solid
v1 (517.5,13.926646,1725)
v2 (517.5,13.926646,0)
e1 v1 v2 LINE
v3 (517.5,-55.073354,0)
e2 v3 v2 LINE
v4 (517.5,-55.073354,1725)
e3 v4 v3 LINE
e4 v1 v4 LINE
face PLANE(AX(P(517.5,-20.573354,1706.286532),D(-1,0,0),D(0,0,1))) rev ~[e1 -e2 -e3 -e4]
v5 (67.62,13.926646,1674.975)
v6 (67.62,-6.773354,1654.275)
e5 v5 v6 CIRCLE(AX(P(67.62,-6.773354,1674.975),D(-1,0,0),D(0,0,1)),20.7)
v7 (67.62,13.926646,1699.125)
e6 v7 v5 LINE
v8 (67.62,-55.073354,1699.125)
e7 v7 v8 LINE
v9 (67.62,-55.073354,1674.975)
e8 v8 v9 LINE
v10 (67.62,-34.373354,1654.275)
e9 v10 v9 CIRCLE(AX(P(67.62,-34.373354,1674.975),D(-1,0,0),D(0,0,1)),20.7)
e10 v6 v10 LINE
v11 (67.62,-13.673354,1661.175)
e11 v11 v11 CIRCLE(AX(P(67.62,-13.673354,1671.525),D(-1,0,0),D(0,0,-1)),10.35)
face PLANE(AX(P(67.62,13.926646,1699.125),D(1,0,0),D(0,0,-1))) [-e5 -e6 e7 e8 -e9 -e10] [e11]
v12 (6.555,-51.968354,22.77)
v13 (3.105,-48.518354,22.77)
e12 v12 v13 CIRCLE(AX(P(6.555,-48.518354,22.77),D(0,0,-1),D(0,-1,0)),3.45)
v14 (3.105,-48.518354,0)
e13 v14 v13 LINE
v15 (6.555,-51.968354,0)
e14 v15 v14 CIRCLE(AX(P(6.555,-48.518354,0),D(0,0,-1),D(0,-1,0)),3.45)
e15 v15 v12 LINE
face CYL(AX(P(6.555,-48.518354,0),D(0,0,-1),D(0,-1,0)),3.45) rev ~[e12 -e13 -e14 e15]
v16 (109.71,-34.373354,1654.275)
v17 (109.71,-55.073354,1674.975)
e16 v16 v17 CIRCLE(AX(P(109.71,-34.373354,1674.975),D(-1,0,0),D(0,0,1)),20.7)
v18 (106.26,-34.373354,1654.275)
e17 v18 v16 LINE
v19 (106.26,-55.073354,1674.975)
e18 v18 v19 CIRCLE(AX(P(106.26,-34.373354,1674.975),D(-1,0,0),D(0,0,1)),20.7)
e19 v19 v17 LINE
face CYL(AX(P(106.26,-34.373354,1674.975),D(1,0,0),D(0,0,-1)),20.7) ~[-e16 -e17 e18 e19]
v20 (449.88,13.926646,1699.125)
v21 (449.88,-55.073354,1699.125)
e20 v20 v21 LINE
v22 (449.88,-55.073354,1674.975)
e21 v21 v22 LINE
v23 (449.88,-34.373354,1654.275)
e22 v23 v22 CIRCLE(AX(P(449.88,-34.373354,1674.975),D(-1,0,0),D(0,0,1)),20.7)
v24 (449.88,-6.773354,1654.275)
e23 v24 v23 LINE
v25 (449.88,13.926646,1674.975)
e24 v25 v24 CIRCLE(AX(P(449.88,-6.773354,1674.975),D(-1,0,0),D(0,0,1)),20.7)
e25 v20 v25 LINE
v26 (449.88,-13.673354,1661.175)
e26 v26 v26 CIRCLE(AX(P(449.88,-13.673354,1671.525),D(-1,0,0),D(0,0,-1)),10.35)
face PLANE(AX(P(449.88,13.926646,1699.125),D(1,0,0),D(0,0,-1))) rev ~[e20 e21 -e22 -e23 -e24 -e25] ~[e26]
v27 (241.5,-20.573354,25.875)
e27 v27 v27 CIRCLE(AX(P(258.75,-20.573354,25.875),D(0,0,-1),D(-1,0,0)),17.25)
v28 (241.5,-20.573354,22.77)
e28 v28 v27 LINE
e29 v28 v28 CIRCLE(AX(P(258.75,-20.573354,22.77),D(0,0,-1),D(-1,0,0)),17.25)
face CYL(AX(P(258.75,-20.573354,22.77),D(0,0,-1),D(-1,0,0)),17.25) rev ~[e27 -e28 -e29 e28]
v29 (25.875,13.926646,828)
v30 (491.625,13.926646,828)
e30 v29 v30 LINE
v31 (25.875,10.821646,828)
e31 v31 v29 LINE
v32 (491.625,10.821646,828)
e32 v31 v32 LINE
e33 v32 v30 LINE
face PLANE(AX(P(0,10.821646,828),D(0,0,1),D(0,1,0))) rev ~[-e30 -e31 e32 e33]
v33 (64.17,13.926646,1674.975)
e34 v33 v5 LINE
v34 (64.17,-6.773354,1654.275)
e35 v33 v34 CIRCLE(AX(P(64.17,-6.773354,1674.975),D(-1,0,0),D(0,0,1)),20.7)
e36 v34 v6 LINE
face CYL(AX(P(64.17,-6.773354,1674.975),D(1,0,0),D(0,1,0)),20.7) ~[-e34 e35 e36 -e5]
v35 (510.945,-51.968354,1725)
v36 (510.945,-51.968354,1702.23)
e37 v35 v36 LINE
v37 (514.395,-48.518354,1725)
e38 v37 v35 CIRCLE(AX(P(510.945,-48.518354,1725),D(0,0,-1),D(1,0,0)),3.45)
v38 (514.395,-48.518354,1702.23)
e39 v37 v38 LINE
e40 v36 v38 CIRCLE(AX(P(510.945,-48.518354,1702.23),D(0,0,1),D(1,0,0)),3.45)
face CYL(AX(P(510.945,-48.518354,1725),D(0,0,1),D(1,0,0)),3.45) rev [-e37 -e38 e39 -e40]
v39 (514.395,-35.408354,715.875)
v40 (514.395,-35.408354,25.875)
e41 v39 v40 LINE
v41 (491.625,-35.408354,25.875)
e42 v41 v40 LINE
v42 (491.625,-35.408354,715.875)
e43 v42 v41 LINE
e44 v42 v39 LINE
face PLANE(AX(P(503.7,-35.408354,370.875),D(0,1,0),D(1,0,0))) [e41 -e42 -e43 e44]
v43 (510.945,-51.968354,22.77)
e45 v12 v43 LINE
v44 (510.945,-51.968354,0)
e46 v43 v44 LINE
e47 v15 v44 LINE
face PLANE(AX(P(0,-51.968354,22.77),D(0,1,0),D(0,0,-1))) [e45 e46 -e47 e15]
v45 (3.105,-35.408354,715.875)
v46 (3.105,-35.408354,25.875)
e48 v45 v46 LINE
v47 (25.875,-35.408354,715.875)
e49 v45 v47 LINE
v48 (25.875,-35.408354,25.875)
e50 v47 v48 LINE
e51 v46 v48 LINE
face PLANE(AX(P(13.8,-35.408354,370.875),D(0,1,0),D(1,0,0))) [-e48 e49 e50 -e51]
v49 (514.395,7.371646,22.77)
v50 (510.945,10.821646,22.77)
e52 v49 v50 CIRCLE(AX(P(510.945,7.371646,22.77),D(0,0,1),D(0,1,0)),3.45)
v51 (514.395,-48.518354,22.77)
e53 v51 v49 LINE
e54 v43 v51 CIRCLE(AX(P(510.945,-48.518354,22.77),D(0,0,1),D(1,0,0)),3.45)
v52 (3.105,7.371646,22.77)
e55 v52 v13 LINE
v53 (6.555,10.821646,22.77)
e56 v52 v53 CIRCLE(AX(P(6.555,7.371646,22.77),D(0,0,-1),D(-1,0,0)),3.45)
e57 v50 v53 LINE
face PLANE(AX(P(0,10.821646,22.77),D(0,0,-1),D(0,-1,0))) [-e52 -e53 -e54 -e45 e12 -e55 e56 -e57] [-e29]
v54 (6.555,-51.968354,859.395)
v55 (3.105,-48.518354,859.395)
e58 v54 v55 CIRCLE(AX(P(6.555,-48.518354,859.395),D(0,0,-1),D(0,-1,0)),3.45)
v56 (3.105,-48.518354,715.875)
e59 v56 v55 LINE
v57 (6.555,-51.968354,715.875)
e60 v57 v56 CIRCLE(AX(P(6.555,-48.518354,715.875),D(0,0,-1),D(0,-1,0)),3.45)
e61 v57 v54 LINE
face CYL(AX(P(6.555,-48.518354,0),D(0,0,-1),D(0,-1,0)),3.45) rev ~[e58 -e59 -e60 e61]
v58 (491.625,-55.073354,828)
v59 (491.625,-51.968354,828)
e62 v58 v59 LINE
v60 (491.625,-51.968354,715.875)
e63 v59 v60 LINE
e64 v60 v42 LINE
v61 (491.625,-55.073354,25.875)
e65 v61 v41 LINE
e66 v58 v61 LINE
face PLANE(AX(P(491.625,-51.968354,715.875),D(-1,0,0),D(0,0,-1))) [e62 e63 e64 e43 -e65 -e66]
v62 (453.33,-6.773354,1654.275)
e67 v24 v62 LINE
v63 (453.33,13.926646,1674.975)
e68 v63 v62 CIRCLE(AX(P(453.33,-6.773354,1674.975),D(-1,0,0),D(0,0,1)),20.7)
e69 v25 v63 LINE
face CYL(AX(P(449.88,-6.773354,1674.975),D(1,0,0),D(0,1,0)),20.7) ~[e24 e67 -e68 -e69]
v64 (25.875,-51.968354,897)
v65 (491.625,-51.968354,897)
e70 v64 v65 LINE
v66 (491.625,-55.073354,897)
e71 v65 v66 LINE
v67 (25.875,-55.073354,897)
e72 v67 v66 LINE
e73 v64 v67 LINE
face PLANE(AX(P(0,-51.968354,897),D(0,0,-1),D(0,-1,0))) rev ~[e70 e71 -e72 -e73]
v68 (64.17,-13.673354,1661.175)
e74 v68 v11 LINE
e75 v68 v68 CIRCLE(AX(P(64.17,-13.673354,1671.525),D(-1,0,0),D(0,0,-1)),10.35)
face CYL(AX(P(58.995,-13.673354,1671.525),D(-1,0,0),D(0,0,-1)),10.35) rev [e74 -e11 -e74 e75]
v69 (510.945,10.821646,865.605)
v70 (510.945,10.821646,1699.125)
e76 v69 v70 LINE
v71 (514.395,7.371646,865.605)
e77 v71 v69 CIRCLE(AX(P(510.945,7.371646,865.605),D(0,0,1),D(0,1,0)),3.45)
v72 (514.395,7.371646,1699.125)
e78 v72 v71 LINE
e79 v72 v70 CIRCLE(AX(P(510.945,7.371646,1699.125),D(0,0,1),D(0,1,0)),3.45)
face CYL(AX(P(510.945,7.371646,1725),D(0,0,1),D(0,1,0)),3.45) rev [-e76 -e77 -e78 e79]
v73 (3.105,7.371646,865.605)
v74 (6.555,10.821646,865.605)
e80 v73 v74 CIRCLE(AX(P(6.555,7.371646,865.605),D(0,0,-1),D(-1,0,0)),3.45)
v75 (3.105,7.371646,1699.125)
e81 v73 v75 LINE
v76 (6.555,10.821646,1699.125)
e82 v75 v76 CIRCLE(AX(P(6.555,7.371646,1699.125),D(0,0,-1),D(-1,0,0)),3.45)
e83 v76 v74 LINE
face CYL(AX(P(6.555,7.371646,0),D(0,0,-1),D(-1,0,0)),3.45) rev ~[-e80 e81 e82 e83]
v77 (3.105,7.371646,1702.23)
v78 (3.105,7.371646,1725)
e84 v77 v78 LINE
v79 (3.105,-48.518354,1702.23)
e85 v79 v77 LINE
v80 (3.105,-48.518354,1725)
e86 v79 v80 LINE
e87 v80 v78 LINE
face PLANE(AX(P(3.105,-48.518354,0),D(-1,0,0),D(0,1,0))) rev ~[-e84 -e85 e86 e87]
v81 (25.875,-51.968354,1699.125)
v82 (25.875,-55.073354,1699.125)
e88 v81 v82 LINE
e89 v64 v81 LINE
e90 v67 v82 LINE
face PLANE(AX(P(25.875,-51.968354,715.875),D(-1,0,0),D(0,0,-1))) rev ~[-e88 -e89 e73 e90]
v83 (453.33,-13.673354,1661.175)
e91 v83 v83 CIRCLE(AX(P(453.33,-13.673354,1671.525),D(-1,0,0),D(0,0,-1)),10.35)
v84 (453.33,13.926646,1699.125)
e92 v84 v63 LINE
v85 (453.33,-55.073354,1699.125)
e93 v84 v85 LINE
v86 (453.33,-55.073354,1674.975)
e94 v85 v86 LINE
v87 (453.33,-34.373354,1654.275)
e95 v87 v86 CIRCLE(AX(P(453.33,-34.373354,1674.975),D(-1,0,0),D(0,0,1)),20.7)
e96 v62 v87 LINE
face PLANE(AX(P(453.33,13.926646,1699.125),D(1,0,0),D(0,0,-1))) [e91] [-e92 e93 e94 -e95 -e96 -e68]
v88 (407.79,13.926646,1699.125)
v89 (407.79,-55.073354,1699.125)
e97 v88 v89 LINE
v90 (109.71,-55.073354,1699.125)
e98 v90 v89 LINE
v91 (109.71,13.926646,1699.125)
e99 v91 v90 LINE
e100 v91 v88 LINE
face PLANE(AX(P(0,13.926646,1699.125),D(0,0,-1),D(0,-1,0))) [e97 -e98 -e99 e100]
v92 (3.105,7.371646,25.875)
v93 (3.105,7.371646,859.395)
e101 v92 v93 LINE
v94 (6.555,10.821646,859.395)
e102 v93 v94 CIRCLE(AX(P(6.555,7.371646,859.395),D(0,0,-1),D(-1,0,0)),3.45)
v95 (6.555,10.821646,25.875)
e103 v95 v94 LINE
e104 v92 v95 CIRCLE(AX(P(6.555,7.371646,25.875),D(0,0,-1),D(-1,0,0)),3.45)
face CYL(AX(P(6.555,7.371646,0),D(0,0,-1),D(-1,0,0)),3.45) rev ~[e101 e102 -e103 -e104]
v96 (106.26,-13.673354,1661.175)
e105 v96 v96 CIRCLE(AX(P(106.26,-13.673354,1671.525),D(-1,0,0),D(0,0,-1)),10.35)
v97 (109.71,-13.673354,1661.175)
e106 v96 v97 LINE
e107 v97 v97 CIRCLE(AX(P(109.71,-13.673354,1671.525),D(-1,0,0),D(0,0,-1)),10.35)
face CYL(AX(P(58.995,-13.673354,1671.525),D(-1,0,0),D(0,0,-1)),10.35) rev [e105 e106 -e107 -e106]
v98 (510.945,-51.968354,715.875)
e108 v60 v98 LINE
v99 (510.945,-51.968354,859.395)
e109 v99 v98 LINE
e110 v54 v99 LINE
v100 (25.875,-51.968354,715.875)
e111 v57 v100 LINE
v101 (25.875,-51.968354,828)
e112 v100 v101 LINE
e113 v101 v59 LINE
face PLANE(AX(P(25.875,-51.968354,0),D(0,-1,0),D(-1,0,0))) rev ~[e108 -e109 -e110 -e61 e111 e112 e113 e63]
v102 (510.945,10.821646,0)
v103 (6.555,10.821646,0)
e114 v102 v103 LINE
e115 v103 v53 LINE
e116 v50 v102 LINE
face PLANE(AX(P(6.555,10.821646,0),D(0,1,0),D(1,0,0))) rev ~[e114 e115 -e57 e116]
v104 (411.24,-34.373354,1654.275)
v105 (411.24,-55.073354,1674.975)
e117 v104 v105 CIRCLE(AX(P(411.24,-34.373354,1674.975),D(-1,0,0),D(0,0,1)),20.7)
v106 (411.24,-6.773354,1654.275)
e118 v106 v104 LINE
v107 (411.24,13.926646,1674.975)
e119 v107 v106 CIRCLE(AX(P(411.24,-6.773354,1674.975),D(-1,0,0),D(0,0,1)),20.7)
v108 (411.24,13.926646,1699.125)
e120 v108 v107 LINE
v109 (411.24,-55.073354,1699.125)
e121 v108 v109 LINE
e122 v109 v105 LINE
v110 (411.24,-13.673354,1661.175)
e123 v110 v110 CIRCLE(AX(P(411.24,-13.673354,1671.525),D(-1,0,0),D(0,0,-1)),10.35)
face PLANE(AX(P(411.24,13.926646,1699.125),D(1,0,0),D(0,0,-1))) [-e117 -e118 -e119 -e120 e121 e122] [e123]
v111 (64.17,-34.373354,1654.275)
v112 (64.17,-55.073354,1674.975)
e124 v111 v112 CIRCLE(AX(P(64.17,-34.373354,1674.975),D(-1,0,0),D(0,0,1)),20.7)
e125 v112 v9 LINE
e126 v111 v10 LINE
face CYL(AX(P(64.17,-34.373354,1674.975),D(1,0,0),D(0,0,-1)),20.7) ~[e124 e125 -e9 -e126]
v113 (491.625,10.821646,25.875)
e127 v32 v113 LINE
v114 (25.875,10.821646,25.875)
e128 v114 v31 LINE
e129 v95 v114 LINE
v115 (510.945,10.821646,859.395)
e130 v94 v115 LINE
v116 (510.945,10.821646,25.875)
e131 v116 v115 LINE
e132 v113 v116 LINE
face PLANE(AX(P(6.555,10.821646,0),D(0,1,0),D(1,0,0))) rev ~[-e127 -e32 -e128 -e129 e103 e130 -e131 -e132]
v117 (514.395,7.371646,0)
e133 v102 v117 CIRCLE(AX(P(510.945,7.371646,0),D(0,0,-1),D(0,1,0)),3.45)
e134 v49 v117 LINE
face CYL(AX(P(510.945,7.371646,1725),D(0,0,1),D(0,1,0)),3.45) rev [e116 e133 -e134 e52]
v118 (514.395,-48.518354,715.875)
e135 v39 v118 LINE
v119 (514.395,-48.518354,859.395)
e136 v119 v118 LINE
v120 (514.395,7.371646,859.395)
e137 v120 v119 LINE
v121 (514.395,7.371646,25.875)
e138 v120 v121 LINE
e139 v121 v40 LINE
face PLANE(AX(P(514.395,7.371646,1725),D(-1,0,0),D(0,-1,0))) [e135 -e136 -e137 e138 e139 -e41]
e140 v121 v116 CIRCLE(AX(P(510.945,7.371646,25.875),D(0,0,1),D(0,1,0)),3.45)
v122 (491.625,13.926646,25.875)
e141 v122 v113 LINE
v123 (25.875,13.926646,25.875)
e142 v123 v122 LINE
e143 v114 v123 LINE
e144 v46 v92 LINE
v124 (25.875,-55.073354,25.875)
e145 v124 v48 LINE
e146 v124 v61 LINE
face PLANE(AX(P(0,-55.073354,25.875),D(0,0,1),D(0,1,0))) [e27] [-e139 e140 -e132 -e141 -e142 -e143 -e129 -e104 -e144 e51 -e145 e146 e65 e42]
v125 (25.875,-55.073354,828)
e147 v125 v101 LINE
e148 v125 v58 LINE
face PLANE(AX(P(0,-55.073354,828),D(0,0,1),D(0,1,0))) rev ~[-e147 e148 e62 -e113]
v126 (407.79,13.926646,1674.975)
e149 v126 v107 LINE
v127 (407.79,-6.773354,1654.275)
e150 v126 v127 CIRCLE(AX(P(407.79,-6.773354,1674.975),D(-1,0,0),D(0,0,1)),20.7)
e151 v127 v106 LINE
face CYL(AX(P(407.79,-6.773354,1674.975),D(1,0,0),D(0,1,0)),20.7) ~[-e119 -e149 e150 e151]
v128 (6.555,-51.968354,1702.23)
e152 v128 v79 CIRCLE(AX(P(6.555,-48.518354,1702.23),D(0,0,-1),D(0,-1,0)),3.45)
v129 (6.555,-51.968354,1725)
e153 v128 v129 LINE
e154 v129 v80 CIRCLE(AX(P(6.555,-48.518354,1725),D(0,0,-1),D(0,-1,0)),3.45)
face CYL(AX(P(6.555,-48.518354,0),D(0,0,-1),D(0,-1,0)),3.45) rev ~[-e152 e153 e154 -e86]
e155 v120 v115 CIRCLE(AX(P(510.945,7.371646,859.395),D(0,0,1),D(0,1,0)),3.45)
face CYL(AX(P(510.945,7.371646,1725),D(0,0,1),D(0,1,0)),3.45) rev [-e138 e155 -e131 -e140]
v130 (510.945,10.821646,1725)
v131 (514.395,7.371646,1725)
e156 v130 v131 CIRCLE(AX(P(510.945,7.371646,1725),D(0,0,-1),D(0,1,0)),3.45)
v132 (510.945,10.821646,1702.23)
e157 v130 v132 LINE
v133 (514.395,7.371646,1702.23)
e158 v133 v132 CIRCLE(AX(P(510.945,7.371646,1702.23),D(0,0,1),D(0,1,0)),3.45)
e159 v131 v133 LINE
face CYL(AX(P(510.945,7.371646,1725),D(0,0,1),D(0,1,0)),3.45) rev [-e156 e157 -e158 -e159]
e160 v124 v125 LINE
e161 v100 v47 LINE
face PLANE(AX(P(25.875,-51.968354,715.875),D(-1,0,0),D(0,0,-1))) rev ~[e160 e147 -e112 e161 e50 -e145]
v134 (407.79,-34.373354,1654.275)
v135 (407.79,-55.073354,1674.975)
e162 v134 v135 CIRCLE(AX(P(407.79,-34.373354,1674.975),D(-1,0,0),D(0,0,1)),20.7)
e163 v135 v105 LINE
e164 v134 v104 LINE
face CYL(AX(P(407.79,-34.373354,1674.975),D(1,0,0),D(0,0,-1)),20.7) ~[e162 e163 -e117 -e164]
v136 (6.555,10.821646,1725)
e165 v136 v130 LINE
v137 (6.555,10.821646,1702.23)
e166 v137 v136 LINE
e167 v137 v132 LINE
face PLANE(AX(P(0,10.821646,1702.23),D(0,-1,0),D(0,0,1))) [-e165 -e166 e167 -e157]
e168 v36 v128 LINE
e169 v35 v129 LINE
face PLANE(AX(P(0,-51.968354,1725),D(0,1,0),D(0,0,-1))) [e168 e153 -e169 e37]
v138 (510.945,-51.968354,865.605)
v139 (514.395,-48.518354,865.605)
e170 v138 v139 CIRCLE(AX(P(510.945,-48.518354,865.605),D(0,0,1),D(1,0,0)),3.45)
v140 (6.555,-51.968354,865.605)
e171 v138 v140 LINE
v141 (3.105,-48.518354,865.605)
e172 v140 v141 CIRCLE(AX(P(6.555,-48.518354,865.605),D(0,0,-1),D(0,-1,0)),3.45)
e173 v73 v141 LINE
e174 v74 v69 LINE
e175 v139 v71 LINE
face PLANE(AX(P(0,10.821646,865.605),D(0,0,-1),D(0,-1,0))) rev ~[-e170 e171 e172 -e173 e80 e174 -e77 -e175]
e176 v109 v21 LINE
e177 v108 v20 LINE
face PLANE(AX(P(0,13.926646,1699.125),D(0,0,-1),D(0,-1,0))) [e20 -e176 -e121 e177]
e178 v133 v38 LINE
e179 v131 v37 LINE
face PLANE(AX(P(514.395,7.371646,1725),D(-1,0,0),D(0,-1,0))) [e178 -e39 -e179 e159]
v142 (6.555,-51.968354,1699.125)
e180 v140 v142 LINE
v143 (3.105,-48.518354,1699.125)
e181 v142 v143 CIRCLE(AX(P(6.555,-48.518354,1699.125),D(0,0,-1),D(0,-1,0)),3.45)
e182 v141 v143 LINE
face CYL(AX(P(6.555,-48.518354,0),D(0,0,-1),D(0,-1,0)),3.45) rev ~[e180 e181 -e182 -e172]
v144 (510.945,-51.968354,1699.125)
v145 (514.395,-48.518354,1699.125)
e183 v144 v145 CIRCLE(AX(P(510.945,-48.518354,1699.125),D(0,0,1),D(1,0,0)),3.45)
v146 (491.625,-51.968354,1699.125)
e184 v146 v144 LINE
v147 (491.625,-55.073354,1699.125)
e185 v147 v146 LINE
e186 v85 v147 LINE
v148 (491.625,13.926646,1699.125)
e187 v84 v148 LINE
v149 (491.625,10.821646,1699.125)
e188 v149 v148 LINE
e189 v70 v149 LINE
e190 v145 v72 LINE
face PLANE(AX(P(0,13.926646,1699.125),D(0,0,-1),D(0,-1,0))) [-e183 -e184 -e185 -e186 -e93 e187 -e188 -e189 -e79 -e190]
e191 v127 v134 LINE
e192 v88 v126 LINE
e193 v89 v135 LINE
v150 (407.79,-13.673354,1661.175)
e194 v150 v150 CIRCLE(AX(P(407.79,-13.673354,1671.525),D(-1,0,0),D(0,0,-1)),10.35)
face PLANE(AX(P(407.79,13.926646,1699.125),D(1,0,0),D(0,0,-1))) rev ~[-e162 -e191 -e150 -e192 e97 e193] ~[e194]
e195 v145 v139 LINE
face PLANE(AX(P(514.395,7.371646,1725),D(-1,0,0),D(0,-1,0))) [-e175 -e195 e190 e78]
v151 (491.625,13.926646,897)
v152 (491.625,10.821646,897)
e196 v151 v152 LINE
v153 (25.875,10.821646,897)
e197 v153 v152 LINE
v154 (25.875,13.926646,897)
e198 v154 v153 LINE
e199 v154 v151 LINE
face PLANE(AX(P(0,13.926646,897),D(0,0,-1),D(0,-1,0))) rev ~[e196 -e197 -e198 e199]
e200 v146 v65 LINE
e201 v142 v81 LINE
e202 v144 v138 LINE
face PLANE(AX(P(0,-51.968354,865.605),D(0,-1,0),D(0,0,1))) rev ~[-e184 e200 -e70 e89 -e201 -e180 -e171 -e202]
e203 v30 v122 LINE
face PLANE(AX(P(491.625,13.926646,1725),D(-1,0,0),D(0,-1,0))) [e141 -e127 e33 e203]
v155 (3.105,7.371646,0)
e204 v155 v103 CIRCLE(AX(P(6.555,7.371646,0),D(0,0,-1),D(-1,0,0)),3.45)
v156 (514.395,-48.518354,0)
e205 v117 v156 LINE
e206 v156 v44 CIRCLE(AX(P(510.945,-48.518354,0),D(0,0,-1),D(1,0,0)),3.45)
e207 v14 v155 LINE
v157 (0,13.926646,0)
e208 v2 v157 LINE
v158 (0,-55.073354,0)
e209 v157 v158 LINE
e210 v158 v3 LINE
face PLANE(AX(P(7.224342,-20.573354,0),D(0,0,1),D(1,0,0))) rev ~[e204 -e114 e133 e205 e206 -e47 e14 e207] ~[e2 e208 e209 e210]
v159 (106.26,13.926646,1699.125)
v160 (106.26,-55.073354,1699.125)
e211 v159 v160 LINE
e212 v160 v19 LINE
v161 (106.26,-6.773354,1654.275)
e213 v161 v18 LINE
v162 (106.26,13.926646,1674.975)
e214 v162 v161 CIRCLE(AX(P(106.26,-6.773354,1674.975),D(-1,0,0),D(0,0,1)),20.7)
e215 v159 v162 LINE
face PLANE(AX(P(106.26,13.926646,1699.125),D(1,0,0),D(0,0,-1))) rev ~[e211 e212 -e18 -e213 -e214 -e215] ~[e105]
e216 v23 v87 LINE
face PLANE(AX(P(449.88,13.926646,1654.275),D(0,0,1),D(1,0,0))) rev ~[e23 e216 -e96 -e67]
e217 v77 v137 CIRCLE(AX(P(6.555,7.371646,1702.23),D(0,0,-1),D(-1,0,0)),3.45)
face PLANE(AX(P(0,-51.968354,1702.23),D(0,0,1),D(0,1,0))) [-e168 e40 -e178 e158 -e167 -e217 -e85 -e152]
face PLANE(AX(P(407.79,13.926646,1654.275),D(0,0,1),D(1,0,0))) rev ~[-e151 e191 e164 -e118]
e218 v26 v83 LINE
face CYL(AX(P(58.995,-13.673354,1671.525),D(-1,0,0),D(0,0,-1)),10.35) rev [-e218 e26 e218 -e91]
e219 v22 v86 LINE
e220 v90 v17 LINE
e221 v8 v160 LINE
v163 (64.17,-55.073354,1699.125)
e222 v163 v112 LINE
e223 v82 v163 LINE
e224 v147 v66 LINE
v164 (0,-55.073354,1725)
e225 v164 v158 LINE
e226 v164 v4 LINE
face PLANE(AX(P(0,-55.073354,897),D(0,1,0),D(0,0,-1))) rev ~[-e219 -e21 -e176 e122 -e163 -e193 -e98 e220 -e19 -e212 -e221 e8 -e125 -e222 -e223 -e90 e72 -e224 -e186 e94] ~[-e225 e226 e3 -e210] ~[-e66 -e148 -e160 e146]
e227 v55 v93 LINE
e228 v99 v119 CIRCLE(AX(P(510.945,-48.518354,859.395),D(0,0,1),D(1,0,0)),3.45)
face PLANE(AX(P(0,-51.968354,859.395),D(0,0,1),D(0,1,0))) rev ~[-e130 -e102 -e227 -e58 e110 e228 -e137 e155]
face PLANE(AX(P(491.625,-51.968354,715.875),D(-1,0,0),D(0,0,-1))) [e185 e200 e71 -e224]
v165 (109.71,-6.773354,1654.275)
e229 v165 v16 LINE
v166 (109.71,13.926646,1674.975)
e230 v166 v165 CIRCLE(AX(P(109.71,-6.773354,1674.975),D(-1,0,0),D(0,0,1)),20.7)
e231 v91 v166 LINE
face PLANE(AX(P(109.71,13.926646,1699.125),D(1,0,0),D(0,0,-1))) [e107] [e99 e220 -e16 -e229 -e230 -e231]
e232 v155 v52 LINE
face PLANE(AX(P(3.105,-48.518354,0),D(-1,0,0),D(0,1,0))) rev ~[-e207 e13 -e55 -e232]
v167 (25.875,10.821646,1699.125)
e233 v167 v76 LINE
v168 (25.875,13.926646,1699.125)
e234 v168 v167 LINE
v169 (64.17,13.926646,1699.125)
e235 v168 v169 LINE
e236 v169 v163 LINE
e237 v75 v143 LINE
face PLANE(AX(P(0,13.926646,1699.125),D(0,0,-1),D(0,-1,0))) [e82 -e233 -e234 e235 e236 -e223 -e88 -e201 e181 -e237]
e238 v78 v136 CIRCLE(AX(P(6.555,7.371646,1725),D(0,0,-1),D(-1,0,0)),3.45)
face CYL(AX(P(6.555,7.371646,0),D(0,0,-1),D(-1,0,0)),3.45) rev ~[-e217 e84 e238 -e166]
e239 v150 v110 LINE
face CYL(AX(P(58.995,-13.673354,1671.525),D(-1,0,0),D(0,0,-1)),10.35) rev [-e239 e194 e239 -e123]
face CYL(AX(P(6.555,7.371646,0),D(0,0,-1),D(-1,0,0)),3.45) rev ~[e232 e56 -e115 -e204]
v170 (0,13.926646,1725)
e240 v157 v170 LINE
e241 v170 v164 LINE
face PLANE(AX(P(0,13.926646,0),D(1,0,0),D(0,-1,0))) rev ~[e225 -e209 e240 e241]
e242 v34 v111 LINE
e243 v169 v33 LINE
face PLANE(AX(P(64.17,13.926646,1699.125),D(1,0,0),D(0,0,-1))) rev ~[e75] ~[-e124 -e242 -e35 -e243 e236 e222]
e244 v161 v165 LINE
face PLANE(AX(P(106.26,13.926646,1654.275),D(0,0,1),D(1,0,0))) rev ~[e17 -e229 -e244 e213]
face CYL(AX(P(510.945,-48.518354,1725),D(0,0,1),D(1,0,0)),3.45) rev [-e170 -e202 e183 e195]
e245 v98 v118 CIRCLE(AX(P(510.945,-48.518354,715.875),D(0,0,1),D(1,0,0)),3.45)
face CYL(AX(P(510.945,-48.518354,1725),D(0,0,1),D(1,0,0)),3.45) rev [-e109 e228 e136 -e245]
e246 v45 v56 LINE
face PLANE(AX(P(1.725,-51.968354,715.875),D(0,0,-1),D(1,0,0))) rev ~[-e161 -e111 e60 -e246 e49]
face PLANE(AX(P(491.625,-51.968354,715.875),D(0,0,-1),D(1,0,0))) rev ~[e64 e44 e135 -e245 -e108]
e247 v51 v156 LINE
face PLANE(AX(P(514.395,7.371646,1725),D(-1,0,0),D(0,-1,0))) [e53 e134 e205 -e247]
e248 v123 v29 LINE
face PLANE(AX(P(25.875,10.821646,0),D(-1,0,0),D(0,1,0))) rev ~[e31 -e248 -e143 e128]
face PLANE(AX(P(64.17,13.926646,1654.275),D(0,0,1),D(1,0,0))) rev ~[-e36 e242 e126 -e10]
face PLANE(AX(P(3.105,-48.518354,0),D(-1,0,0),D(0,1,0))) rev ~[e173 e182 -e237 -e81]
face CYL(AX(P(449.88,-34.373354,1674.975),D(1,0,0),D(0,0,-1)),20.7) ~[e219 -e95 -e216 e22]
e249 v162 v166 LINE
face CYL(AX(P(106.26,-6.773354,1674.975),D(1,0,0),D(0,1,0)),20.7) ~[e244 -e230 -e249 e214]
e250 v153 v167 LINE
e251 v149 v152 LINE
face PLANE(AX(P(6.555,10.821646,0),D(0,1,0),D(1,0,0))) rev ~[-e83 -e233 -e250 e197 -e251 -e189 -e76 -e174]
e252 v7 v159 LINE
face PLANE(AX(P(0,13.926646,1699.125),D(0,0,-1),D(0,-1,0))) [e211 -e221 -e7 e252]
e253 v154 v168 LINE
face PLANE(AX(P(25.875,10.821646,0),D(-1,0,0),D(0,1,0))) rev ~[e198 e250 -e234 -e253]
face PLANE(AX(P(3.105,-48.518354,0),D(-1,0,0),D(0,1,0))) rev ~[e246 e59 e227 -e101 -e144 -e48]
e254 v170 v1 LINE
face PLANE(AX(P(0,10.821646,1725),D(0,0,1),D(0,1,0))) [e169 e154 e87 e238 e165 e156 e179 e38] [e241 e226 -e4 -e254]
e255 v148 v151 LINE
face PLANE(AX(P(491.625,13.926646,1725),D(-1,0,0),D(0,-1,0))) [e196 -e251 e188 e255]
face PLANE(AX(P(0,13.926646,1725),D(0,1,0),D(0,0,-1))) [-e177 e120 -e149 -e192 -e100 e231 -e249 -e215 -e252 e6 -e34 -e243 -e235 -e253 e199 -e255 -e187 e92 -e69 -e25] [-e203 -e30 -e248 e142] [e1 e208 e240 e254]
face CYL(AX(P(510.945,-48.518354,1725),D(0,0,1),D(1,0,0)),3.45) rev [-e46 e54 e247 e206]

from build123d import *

# Parameters (mm, degrees)
EXTRUDE_1_DEPTH          = 5000
EXTRUDE_3_DEPTH          = 1500
EXTRUDE_START            = -5000
EXTRUDE_4_DEPTH          = 5000
SKETCH_5_W               = 10
SKETCH_5_H               = 130
EXTRUDE_5_DEPTH          = 200
CUT_EXTRUDE_1_DEPTH      = 1006
CUT_EXTRUDE_1_DEPTH_BACK = 147
SKETCH_6_R               = 30
FILLET_1_R               = 60
SKETCH_7_W               = 70
SKETCH_7_H               = 2000
EXTRUDE_6_DEPTH          = 48
EXTRUDE_7_REACH          = 5224.593
SKETCH_9_R               = 50
CUT_EXTRUDE_2_DEPTH      = 219
SCALE_3_SCALE            = 0.345


with BuildPart() as part:
    # 草图1 → 凸台-拉伸1 (new body)
    with BuildSketch(Plane.XY):
        with BuildLine():
            Line((0, 40.367089679), (0, -159.632910321))
            Line((0, -159.632910321), (75, -159.632910321))
            Line((75, -159.632910321), (75, -150.632910321))
            Line((75, -150.632910321), (19, -150.632910321))
            ThreePointArc((19, -150.632910321), (11.928932188, -147.703978133), (9, -140.632910321))
            Line((9, -140.632910321), (9, 21.367089679))
            ThreePointArc((9, 21.367089679), (11.928932188, 28.43815749), (19, 31.367089679))
            Line((19, 31.367089679), (75, 31.367089679))
            Line((75, 31.367089679), (75, 40.367089679))
            Line((75, 40.367089679), (0, 40.367089679))
        make_face()
    extrude(amount=EXTRUDE_1_DEPTH)

    # 草图2 → 凸台-拉伸3 (add)
    with BuildSketch(Plane.ZY):
        Polygon((5000, 40.367089679), (4925, 40.367089679), (4925, -159.632910321), (5000, -159.632910321), (5000, -150.632910321), (4934, -150.632910321), (4934, 31.367089679), (5000, 31.367089679), align=None)
        Polygon((0, -150.632910321), (0, -159.632910321), (75, -159.632910321), (75, 40.367089679), (0, 40.367089679), (0, 31.367089679), (66, 31.367089679), (66, -150.632910321), align=None)
    extrude(amount=-EXTRUDE_3_DEPTH)

    # 草图3 → 凸台-拉伸4 (add)
    with BuildSketch(Plane(origin=(0, 0, 0), x_dir=(-1, 0, 0), z_dir=(0, 0, -1)).offset(EXTRUDE_START)):
        with BuildLine():
            Line((-1500, 40.367089679), (-1425, 40.367089679))
            Line((-1425, 40.367089679), (-1425, 31.367089679))
            Line((-1425, 31.367089679), (-1481, 31.367089679))
            ThreePointArc((-1481, 31.367089679), (-1488.071067812, 28.43815749), (-1491, 21.367089679))
            Line((-1491, 21.367089679), (-1491, -140.632910321))
            ThreePointArc((-1491, -140.632910321), (-1488.071067812, -147.703978133), (-1481, -150.632910321))
            Line((-1481, -150.632910321), (-1425, -150.632910321))
            Line((-1425, -150.632910321), (-1425, -159.632910321))
            Line((-1425, -159.632910321), (-1500, -159.632910321))
            Line((-1500, -159.632910321), (-1500, 40.367089679))
        make_face()
    extrude(amount=EXTRUDE_4_DEPTH)

    # 草图5 → 凸台-拉伸5 (add)
    with BuildSketch(Plane(origin=(0, 40.367089679, 0), x_dir=(1, 0, 0), z_dir=(0, 1, 0))):
        with Locations((191, -4860)):
            Rectangle(SKETCH_5_W, SKETCH_5_H)
        with Locations((313, -4860)):
            Rectangle(SKETCH_5_W, SKETCH_5_H)
        with Locations((1309, -4860)):
            Rectangle(SKETCH_5_W, SKETCH_5_H)
        with Locations((1187, -4860)):
            Rectangle(SKETCH_5_W, SKETCH_5_H)
    extrude(amount=-EXTRUDE_5_DEPTH)

    # 草图6 → 切除-拉伸1 (cut, two sides: drawn at the far end of the back side and taken through both)
    with BuildSketch(Plane(origin=(318, 0, 0), x_dir=(0, 0, -1), z_dir=(1, 0, 0)).offset(-CUT_EXTRUDE_1_DEPTH_BACK)):
        with Locations((-4845, -39.632910321)):
            Circle(SKETCH_6_R)
    extrude(amount=CUT_EXTRUDE_1_DEPTH + CUT_EXTRUDE_1_DEPTH_BACK, mode=Mode.SUBTRACT)

    # 圆角1
    fillet_1_edges = [part.edges().sort_by_distance(p)[0] for p in [
        (191, -159.632910321, 4795),
        (191, 40.367089679, 4795),
        (313, -159.632910321, 4795),
        (313, 40.367089679, 4795),
        (1187, -159.632910321, 4795),
        (1187, 40.367089679, 4795),
        (1309, -159.632910321, 4795),
        (1309, 40.367089679, 4795),
    ]]
    fillet(fillet_1_edges, radius=FILLET_1_R)

    # 草图7 → 凸台-拉伸6 (add)
    with BuildSketch(Plane(origin=(0, -150.632910321, 0), x_dir=(1, 0, 0), z_dir=(0, 1, 0))):
        with Locations((40, -1075)):
            Rectangle(SKETCH_7_W, SKETCH_7_H)
        with Locations((1460, -1075)):
            Rectangle(SKETCH_7_W, SKETCH_7_H)
    extrude(amount=EXTRUDE_6_DEPTH)

    # 凸台-拉伸7: up to this face of the body (flat: up to its plane)
    extrude_7_end = Plane(part.part.faces().sort_by_distance((1491, -52.993485212, 2652.59969001))[0])
    # 草图8 → 凸台-拉伸7 (add, up to the picked face)
    with BuildSketch(Plane.ZY, mode=Mode.PRIVATE) as extrude_7_sk1:
        Polygon((2400, 40.367089679), (2600, 40.367089679), (2600, 31.367089679), (2509, 31.367089679), (2509, -150.632910321), (2600, -150.632910321), (2600, -159.632910321), (2400, -159.632910321), (2400, -150.632910321), (2491, -150.632910321), (2491, 31.367089679), (2400, 31.367089679), align=None)
    extrude_7_tool1 = split(extrude(extrude_7_sk1.sketch, amount=-EXTRUDE_7_REACH, mode=Mode.PRIVATE), bisect_by=extrude_7_end, keep=Keep.BOTH, mode=Mode.PRIVATE)
    add(extrude_7_tool1.solids().sort_by(Axis((0, -59.63291, 2500), (1, 0, 0)))[0])

    # 草图9 → 切除-拉伸2 (cut)
    with BuildSketch(Plane(origin=(0, 0, 66), x_dir=(-1, 0, 0), z_dir=(0, 0, -1))):
        with Locations((-750, -59.632910321)):
            Circle(SKETCH_9_R)
    extrude(amount=-CUT_EXTRUDE_2_DEPTH, mode=Mode.SUBTRACT)


with BuildPart() as part_1:
    # 缩放比例3: scaled about (0, 0, 0)
    add(part.part.scale(SCALE_3_SCALE))


solid = part_1.part
